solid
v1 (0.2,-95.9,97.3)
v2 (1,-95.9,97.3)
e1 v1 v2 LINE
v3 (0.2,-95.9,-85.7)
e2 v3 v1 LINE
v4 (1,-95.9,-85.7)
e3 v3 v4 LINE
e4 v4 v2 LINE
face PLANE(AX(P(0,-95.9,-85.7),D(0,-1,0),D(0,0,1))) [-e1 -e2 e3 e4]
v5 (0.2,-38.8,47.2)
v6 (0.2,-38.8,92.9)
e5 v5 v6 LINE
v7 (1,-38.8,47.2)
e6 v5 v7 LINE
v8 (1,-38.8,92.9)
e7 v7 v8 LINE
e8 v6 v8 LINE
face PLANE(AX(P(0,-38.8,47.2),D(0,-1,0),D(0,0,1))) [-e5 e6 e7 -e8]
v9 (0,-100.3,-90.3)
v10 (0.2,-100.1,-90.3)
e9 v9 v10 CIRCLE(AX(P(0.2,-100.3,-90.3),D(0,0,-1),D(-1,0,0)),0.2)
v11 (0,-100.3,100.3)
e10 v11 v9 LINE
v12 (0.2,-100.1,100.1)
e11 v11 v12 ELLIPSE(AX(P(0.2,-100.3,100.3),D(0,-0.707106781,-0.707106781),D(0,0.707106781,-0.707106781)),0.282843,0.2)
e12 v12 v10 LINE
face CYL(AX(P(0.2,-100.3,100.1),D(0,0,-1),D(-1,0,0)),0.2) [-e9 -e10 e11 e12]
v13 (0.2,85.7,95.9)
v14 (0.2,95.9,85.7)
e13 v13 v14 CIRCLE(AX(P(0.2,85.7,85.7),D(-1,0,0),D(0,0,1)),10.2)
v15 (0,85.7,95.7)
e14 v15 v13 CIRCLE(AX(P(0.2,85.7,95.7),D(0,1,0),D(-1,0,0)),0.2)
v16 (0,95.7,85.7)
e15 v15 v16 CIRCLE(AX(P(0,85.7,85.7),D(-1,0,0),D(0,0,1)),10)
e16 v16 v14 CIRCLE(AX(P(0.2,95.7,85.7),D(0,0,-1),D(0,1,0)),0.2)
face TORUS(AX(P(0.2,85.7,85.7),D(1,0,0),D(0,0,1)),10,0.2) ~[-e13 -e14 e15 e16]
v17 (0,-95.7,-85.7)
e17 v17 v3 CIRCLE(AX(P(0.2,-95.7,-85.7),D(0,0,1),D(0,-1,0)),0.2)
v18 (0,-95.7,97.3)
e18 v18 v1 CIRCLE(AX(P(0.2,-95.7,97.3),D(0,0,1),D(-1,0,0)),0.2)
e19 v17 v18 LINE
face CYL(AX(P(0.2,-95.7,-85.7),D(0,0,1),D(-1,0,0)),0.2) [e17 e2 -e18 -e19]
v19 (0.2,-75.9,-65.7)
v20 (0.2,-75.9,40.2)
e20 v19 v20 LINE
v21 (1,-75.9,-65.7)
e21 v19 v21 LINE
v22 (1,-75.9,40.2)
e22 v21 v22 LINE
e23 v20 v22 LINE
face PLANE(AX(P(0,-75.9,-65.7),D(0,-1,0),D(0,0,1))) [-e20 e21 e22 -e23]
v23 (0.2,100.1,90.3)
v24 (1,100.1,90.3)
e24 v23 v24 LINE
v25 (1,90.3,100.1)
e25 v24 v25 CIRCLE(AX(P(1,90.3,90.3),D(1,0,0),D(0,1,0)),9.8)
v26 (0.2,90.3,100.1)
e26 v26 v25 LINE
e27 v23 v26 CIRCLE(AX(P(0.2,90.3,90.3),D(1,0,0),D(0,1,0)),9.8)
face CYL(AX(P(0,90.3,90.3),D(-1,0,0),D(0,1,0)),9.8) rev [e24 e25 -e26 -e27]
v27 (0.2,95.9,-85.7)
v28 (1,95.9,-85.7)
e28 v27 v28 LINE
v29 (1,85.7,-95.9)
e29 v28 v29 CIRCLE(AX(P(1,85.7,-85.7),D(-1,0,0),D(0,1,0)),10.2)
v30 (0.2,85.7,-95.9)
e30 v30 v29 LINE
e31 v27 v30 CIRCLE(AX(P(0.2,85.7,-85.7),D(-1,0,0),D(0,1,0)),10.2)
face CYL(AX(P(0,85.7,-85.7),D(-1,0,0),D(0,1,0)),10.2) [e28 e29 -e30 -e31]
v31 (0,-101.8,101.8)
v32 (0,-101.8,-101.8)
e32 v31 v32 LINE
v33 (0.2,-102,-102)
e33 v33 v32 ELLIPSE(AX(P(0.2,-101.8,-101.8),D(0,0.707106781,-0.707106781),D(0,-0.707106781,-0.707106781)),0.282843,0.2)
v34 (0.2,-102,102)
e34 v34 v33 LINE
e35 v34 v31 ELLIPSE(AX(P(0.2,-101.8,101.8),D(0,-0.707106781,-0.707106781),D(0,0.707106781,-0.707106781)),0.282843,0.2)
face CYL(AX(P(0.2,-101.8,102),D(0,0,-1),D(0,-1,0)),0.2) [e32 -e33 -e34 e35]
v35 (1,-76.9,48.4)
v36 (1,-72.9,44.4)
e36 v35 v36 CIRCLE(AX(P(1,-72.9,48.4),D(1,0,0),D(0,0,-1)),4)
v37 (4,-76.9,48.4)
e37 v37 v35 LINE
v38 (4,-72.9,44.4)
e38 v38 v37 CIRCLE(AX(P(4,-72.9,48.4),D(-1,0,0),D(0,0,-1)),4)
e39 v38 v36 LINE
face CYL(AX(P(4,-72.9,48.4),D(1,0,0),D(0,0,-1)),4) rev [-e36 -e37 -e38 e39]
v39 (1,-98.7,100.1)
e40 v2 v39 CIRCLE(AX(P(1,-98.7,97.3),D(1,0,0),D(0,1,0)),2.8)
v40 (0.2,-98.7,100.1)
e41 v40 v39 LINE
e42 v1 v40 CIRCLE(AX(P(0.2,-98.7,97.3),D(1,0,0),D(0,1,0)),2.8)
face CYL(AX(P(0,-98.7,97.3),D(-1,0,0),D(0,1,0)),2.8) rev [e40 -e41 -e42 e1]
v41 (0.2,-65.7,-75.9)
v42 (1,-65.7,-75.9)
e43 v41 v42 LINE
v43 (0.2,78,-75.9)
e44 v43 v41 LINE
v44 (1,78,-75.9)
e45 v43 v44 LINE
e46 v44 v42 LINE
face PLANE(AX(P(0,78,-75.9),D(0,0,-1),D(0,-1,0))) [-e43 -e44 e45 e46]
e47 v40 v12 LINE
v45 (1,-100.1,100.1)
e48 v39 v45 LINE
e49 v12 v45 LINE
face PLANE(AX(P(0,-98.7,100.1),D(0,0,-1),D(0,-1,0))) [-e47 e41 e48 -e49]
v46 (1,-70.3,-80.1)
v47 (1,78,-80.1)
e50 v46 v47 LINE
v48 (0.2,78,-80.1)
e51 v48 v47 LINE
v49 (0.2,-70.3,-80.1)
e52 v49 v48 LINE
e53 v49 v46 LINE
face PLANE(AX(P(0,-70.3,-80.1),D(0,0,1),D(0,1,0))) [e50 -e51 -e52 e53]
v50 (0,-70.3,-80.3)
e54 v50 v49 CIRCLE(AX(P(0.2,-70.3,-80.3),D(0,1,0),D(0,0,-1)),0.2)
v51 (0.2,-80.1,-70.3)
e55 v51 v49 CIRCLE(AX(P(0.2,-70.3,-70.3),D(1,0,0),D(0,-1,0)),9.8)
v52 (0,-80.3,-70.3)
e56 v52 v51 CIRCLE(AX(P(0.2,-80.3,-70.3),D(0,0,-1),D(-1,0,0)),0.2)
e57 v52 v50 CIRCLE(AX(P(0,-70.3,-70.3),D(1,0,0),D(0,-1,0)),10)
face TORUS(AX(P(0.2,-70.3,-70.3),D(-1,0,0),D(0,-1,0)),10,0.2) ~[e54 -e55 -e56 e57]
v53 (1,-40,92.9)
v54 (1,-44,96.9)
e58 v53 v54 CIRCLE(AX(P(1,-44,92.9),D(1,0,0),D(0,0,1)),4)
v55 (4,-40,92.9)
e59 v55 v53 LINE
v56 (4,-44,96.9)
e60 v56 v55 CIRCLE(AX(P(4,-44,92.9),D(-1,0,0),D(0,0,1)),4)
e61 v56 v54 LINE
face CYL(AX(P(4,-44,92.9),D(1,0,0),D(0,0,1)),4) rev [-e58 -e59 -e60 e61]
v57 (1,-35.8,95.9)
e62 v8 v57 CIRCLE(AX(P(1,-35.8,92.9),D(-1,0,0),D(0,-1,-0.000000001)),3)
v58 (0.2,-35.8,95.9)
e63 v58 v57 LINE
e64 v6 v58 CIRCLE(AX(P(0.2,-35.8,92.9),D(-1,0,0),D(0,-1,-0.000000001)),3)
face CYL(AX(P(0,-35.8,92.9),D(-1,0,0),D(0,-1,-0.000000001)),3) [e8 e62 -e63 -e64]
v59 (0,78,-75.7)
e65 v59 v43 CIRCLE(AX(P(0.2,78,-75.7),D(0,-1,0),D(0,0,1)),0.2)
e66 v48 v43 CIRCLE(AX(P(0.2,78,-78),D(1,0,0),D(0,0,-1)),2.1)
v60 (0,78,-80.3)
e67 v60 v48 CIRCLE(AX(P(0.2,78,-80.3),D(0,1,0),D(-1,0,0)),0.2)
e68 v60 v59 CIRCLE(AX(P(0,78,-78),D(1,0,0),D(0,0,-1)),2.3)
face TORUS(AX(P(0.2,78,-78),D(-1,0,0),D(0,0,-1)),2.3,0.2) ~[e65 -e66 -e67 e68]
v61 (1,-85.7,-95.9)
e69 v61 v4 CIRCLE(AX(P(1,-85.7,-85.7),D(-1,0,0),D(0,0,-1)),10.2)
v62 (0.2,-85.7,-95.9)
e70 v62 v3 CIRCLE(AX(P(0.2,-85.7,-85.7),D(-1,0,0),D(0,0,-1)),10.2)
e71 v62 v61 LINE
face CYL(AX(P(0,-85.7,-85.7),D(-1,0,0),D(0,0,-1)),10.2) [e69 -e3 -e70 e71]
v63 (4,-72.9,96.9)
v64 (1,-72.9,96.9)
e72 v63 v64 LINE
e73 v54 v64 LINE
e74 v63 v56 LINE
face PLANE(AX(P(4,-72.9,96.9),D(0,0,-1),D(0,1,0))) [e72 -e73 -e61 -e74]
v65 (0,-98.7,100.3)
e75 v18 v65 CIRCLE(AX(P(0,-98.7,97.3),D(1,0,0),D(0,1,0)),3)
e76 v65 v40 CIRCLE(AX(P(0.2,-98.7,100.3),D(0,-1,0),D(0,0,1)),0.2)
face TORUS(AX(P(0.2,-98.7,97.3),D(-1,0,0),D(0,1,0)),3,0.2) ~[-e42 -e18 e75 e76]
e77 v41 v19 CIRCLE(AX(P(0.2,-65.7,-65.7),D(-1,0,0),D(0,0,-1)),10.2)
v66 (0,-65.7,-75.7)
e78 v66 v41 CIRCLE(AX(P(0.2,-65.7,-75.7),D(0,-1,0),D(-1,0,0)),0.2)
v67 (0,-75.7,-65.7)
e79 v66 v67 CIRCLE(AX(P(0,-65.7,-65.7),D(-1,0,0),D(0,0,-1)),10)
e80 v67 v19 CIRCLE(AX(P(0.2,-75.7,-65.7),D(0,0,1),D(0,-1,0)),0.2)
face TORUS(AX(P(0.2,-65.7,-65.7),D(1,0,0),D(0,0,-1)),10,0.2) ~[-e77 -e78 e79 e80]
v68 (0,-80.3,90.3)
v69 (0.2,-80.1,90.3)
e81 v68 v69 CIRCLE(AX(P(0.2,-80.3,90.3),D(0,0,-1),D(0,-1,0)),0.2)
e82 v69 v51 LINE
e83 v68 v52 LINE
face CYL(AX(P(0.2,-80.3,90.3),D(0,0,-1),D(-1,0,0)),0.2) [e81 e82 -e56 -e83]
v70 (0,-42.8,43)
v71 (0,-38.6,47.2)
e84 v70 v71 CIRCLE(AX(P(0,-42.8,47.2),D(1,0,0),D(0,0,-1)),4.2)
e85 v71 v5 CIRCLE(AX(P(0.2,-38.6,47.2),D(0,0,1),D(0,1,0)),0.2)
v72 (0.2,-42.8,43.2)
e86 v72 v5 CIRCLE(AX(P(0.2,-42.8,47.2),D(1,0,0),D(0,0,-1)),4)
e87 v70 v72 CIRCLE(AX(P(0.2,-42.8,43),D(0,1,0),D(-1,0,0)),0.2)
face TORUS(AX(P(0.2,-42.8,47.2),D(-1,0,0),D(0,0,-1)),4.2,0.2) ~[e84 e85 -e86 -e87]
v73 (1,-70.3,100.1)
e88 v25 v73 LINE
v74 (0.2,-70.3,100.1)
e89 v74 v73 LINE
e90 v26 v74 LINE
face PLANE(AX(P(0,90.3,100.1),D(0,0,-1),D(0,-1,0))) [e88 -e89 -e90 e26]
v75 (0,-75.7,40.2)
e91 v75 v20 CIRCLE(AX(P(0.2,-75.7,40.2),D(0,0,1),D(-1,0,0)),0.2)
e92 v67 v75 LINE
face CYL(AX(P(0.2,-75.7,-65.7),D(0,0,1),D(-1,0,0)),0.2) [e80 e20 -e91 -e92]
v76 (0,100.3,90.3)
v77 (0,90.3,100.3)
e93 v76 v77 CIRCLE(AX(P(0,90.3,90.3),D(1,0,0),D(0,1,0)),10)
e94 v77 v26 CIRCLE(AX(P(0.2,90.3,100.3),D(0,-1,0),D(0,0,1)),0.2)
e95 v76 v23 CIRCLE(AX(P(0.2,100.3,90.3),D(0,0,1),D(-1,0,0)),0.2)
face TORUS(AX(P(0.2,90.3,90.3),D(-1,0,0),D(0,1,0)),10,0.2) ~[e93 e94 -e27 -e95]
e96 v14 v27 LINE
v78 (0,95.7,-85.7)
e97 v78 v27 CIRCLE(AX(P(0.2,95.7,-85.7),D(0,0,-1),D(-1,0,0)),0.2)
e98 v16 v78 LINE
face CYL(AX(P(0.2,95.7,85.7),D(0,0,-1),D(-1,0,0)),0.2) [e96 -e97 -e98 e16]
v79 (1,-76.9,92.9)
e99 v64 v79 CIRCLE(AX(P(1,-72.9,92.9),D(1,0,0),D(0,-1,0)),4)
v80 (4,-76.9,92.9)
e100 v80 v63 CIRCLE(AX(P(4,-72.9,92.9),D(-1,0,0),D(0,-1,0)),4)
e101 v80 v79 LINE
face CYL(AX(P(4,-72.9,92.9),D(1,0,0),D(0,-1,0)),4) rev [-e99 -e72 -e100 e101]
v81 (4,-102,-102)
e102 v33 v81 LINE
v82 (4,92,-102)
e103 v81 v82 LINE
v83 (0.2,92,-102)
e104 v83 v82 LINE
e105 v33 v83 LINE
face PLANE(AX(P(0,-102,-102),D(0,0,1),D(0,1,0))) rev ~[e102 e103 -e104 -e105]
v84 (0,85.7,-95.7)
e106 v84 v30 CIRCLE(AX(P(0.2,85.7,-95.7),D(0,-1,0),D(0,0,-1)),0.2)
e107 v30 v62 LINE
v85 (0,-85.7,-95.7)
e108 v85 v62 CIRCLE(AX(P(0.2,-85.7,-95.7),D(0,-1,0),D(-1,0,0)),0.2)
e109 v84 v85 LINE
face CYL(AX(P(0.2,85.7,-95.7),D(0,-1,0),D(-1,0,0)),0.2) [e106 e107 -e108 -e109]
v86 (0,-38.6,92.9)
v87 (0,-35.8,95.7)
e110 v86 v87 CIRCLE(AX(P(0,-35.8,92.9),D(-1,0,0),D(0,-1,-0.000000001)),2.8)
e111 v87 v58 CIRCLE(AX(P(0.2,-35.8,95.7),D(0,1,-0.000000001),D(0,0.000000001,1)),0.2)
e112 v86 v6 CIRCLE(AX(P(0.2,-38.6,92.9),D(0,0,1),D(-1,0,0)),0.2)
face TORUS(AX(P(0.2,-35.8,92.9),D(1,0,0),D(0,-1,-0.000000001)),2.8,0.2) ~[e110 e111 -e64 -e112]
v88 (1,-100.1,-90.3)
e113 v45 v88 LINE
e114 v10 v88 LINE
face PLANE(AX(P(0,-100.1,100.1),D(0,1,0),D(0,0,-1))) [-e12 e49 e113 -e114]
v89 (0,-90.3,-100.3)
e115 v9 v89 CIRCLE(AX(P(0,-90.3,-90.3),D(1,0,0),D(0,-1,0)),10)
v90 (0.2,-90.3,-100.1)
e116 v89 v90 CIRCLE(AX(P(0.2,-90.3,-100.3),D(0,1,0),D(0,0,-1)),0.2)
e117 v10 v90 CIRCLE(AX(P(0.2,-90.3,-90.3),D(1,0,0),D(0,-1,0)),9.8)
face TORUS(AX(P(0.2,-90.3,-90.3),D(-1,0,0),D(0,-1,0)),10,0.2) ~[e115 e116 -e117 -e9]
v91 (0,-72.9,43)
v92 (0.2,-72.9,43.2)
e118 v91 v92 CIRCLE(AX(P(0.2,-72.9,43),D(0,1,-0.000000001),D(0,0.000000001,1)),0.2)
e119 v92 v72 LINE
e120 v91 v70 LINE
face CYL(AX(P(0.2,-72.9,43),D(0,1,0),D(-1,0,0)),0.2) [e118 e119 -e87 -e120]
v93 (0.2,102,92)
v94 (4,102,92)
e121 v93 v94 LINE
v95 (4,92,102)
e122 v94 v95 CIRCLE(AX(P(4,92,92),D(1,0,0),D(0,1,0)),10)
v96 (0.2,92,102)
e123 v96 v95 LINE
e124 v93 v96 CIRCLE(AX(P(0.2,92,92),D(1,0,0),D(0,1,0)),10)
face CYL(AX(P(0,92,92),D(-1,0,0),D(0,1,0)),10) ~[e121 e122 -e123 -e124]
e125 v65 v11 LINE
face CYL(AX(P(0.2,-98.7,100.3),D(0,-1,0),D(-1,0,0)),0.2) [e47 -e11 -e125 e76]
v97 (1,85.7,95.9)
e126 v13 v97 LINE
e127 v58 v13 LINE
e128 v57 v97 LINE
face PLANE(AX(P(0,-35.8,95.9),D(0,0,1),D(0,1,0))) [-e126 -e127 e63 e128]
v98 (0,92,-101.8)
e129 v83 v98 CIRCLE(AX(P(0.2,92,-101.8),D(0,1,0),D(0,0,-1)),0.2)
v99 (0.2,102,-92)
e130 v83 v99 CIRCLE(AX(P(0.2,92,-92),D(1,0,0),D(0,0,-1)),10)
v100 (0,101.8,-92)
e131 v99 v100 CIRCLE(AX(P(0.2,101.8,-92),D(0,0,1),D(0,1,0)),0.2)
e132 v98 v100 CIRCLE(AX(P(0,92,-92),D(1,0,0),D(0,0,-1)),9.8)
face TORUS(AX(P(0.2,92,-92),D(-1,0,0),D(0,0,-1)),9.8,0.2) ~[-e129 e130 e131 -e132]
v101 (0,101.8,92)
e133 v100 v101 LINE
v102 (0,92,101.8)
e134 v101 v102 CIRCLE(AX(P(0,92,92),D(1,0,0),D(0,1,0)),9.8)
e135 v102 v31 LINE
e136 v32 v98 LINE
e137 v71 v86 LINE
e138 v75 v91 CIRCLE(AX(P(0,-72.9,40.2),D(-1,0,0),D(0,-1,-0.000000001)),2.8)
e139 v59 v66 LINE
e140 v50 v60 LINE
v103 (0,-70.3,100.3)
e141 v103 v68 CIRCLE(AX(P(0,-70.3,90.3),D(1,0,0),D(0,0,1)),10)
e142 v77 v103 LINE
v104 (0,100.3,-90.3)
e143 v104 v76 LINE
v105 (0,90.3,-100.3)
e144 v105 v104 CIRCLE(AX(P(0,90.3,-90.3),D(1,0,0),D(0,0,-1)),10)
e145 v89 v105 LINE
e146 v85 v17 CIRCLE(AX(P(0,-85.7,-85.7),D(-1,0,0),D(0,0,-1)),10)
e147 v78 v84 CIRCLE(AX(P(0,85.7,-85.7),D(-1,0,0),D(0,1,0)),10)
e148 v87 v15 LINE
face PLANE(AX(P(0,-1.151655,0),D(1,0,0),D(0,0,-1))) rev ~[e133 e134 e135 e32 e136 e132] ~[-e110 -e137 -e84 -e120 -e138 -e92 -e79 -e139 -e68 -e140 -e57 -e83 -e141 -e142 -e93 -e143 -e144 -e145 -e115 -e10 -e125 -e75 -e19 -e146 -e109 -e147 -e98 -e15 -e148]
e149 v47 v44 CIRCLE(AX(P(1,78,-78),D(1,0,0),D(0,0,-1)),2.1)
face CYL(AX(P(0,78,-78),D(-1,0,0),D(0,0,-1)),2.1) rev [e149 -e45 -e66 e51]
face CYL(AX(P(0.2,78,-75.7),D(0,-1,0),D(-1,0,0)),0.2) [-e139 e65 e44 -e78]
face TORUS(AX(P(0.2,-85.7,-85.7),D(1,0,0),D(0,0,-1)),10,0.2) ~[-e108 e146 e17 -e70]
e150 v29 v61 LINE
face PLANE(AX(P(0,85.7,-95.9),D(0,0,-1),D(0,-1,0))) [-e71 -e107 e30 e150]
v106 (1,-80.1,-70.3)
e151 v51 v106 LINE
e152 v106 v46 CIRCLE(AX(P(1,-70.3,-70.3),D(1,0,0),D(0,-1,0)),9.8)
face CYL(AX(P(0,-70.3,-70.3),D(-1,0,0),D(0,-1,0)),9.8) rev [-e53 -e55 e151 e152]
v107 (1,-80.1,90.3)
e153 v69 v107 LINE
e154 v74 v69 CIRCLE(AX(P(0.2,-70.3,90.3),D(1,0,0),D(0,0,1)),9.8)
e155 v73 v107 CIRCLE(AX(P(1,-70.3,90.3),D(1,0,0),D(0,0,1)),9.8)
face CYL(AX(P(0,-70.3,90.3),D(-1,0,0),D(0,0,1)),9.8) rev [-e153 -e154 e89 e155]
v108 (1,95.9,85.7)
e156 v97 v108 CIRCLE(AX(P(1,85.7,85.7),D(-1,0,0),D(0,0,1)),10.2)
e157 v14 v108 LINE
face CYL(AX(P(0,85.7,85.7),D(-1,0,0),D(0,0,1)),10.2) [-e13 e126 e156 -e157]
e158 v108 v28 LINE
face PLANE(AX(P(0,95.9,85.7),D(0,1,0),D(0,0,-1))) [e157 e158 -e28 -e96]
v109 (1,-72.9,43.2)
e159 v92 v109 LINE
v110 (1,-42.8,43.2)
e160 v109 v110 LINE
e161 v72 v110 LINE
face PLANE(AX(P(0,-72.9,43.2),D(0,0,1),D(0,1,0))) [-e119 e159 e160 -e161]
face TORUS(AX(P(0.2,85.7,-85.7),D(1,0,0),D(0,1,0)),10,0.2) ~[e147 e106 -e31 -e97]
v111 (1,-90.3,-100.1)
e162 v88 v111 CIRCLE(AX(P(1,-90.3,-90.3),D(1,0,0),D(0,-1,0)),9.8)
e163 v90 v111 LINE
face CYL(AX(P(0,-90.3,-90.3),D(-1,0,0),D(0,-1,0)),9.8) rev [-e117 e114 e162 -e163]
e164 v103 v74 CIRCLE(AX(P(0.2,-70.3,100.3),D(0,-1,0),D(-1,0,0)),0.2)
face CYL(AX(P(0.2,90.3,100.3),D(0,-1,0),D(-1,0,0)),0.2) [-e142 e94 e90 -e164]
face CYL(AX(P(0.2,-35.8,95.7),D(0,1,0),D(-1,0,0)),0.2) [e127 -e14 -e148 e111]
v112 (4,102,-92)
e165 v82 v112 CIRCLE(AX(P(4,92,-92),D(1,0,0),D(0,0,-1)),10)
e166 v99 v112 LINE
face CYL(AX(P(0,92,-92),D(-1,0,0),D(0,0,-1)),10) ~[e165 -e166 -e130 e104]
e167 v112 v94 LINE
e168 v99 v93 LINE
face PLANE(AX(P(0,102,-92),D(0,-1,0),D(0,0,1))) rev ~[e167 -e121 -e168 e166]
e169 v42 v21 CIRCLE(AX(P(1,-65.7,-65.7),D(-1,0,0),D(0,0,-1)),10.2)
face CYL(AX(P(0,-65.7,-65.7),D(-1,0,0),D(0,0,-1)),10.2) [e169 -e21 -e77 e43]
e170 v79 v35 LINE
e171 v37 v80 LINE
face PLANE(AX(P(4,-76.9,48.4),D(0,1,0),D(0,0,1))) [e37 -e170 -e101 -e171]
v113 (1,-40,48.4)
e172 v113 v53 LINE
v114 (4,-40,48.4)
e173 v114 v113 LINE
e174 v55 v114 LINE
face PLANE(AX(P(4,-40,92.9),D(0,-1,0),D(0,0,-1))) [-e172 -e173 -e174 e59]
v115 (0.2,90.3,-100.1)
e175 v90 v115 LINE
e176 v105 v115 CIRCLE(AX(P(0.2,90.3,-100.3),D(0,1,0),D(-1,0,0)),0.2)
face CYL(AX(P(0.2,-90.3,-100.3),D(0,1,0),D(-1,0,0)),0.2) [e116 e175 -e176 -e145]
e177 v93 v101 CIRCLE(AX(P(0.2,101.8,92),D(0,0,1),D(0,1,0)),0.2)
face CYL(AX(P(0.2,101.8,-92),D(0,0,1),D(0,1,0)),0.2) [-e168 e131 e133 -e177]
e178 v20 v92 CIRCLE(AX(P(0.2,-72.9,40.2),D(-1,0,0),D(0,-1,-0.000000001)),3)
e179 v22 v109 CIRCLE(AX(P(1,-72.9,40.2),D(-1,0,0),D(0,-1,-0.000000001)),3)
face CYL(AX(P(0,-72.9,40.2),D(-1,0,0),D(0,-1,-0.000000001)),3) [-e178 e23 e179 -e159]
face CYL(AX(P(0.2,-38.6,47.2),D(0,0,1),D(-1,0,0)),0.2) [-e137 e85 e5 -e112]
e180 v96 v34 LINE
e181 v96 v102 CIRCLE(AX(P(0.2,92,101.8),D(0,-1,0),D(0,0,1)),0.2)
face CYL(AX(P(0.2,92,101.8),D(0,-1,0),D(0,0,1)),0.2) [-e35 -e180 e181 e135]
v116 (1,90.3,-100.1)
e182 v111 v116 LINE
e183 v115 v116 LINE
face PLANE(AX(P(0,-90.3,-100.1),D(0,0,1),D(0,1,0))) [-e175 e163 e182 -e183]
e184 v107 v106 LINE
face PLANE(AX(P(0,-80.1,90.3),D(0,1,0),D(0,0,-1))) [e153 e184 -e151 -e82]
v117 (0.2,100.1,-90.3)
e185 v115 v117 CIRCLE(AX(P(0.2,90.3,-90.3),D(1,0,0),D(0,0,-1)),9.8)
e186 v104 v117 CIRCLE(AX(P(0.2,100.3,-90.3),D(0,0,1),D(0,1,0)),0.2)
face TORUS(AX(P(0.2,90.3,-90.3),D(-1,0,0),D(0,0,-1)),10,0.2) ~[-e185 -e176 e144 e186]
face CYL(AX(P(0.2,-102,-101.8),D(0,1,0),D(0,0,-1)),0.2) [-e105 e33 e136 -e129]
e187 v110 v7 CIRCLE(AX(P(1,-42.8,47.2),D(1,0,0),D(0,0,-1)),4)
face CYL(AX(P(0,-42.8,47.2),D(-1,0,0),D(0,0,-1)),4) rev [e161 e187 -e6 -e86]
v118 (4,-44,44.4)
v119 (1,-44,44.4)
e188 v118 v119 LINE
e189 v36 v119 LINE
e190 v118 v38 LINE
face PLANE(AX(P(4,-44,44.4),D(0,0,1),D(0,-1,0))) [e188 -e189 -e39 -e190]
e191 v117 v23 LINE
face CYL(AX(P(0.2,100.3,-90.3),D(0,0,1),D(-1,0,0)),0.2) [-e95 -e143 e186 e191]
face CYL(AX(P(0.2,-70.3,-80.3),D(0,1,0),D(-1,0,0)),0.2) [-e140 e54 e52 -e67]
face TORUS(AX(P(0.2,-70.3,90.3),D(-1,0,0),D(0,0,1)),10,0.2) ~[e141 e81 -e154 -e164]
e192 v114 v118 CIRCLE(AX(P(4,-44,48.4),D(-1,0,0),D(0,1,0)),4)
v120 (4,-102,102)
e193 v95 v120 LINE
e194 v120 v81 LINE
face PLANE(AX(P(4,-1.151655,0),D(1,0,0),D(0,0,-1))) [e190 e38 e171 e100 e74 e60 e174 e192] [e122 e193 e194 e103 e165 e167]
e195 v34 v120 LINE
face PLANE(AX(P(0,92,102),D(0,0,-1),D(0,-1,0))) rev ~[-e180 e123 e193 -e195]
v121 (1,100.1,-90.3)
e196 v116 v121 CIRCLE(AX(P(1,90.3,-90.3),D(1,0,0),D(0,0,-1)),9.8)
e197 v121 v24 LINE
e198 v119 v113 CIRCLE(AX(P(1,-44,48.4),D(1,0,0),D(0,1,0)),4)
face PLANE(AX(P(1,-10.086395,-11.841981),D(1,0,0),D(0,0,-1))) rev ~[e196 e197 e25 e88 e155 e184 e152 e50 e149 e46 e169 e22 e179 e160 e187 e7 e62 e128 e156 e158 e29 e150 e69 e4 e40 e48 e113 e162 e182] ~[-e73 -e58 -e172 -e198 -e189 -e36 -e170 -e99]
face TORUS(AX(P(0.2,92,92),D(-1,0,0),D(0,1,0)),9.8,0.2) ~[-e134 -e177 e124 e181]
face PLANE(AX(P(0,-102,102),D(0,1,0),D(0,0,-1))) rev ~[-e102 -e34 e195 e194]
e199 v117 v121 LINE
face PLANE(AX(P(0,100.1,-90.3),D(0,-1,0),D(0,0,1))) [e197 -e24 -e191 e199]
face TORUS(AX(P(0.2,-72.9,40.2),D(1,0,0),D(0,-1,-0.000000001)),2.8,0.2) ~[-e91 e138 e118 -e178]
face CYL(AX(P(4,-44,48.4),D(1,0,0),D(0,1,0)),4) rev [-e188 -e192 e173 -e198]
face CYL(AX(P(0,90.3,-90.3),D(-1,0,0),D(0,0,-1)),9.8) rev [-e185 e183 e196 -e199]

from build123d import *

# Parameters (mm, degrees)
BOSS_EXTRUDE1_DEPTH = 4
CUT_EXTRUDE3_START  = -4
CUT_EXTRUDE3_DEPTH  = 1
FILLET1_R           = 0.2
CUT_EXTRUDE4_REACH  = 146.305


with BuildPart() as part:
    # Sketch1 → Boss-Extrude1 (new body)
    with BuildSketch(Plane(origin=(0, 0, 0), x_dir=(0, 0, -1), z_dir=(1, 0, 0))):
        with BuildLine():
            Line((-102, -102), (102, -102))
            Line((102, -102), (102, 92))
            ThreePointArc((102, 92), (99.071067812, 99.071067812), (92, 102))
            Line((92, 102), (-92, 102))
            ThreePointArc((-92, 102), (-99.071067812, 99.071067812), (-102, 92))
            Line((-102, 92), (-102, -102))
        make_face()
    extrude(amount=BOSS_EXTRUDE1_DEPTH)

    # Sketch2 → Cut-Extrude3 (cut)
    with BuildSketch(Plane(origin=(4, 0, 0), x_dir=(0, 0, -1), z_dir=(1, 0, 0)).offset(CUT_EXTRUDE3_START)):
        with BuildLine():
            Line((-100.1, 90.3), (-100.1, -70.3))
            ThreePointArc((-100.1, -70.3), (-97.229646456, -77.229646456), (-90.3, -80.1))
            Line((-90.3, -80.1), (70.3, -80.1))
            ThreePointArc((70.3, -80.1), (77.229646456, -77.229646456), (80.1, -70.3))
            Line((80.1, -70.3), (80.1, 78))
            ThreePointArc((80.1, 78), (78, 80.1), (75.9, 78))
            Line((75.9, 78), (75.9, -65.7))
            ThreePointArc((75.9, -65.7), (72.912489168, -72.912489168), (65.7, -75.9))
            Line((65.7, -75.9), (-40.2, -75.9))
            ThreePointArc((-40.2, -75.9), (-42.321320344, -75.021320344), (-43.2, -72.9))
            Line((-43.2, -72.9), (-43.2, -42.8))
            ThreePointArc((-43.2, -42.8), (-44.371572875, -39.971572875), (-47.2, -38.8))
            Line((-47.2, -38.8), (-92.9, -38.8))
            ThreePointArc((-92.9, -38.8), (-95.021320344, -37.921320344), (-95.9, -35.8))
            Line((-95.9, -35.8), (-95.9, 85.7))
            ThreePointArc((-95.9, 85.7), (-92.912489168, 92.912489168), (-85.7, 95.9))
            Line((-85.7, 95.9), (85.7, 95.9))
            ThreePointArc((85.7, 95.9), (92.912489168, 92.912489168), (95.9, 85.7))
            Line((95.9, 85.7), (95.9, -85.7))
            ThreePointArc((95.9, -85.7), (92.912489168, -92.912489168), (85.7, -95.9))
            Line((85.7, -95.9), (-97.3, -95.9))
            ThreePointArc((-97.3, -95.9), (-99.279898987, -96.720101013), (-100.1, -98.7))
            Line((-100.1, -98.7), (-100.1, -100.1))
            Line((-100.1, -100.1), (90.3, -100.1))
            ThreePointArc((90.3, -100.1), (97.229646456, -97.229646456), (100.1, -90.3))
            Line((100.1, -90.3), (100.1, 90.3))
            ThreePointArc((100.1, 90.3), (97.229646456, 97.229646456), (90.3, 100.1))
            Line((90.3, 100.1), (-90.3, 100.1))
            ThreePointArc((-90.3, 100.1), (-97.229646456, 97.229646456), (-100.1, 90.3))
        make_face()
        with BuildLine():
            Line((-90.9, -75.9), (-48.4, -75.9))
            ThreePointArc((-48.4, -75.9), (-46.278679656, -75.021320344), (-45.4, -72.9))
            Line((-45.4, -72.9), (-45.4, -65.9))
            Line((-45.4, -65.9), (-46.4, -65.9))
            Line((-46.4, -65.9), (-46.4, -64.4))
            Line((-46.4, -64.4), (-45.4, -64.4))
            Line((-45.4, -64.4), (-45.4, -62.5))
            Line((-45.4, -62.5), (-46.4, -62.5))
            Line((-46.4, -62.5), (-46.4, -61))
            Line((-46.4, -61), (-45.4, -61))
            Line((-45.4, -61), (-45.4, -45))
            ThreePointArc((-45.4, -45), (-46.571572875, -42.171572875), (-49.4, -41))
            Line((-49.4, -41), (-92.9, -41))
            ThreePointArc((-92.9, -41), (-95.021320344, -41.878679656), (-95.9, -44))
            Line((-95.9, -44), (-95.9, -61))
            Line((-95.9, -61), (-94.9, -61))
            Line((-94.9, -61), (-94.9, -62.5))
            Line((-94.9, -62.5), (-95.9, -62.5))
            Line((-95.9, -62.5), (-95.9, -64.4))
            Line((-95.9, -64.4), (-94.9, -64.4))
            Line((-94.9, -64.4), (-94.9, -65.9))
            Line((-94.9, -65.9), (-95.9, -65.9))
            Line((-95.9, -65.9), (-95.9, -70.9))
            ThreePointArc((-95.9, -70.9), (-94.435533906, -74.435533906), (-90.9, -75.9))
        make_face(mode=Mode.SUBTRACT)
    extrude(amount=CUT_EXTRUDE3_DEPTH, mode=Mode.SUBTRACT)

    # Fillet1
    fillet1_edges = [part.edges().sort_by_distance(p)[0] for p in [
        (0, -72.912489168, -72.912489168),
        (0, -75.021320344, 42.321320344),
        (0, -37.921320344, 95.021320344),
        (0, 92.912489168, 92.912489168),
        (0, 92.912489168, -92.912489168),
        (0, -92.912489168, -92.912489168),
        (0, -96.720101013, 99.279898987),
        (0, -95.9, 5.8),
        (0, 0, -95.9),
        (0, 95.9, 0),
        (0, 24.95, 95.9),
        (0, -38.8, 70.05),
        (0, -39.971572875, 44.371572875),
        (0, -57.85, 43.2),
        (0, -75.9, -12.75),
        (0, 6.15, -75.9),
        (0, 80.1, -78),
        (0, 3.85, -80.1),
        (0, -77.229646456, -77.229646456),
        (0, -80.1, 10),
        (0, -77.229646456, 97.229646456),
        (0, 10, 100.1),
        (0, 97.229646456, 97.229646456),
        (0, 100.1, 0),
        (0, 97.229646456, -97.229646456),
        (0, -102, 0),
        (0, 0, -100.1),
        (0, -97.229646456, -97.229646456),
        (0, -100.1, 4.9),
        (0, -99.4, 100.1),
        (0, -65.15, 94.9),
        (0, -65.9, 95.4),
        (0, -68.4, 95.9),
        (0, -74.435533906, 94.435533906),
        (0, -75.9, 69.65),
        (0, -75.021320344, 46.278679656),
        (0, -69.4, 45.4),
        (0, -5, 102),
        (0, -65.9, 45.9),
        (0, -65.15, 46.4),
        (0, -64.4, 45.9),
        (0, -63.45, 45.4),
        (0, -62.5, 45.9),
        (0, -61.75, 46.4),
        (0, -61, 45.9),
        (0, -53, 45.4),
        (0, -42.171572875, 46.571572875),
        (0, -41, 71.15),
        (0, 99.071067812, 99.071067812),
        (0, -41.878679656, 95.021320344),
        (0, -52.5, 95.9),
        (0, -61, 95.4),
        (0, -61.75, 94.9),
        (0, -62.5, 95.4),
        (0, -63.45, 95.9),
        (0, -64.4, 95.4),
        (0, 102, 0),
        (0, 99.071067812, -99.071067812),
        (0, -5, -102),
    ]]
    fillet(fillet1_edges, radius=FILLET1_R)

    # Sketch4 → Cut-Extrude4 (cut, up to next)
    with BuildSketch(Plane(origin=(4, 0, 0), x_dir=(0, 0, -1), z_dir=(1, 0, 0)), mode=Mode.PRIVATE) as cut_extrude4_sk1:
        with BuildLine():
            Line((-92.9, -40), (-48.4, -40))
            ThreePointArc((-48.4, -40), (-45.571572875, -41.171572875), (-44.4, -44))
            Line((-44.4, -44), (-44.4, -72.9))
            ThreePointArc((-44.4, -72.9), (-45.571572875, -75.728427125), (-48.4, -76.9))
            Line((-48.4, -76.9), (-92.9, -76.9))
            ThreePointArc((-92.9, -76.9), (-95.728427125, -75.728427125), (-96.9, -72.9))
            Line((-96.9, -72.9), (-96.9, -44))
            ThreePointArc((-96.9, -44), (-95.728427125, -41.171572875), (-92.9, -40))
        make_face()
    cut_extrude4_tool1 = extrude(cut_extrude4_sk1.sketch, amount=-CUT_EXTRUDE4_REACH, mode=Mode.PRIVATE) & part.part
    add(cut_extrude4_tool1.solids().sort_by_distance((4, -58.45, 70.65))[0], mode=Mode.SUBTRACT)


solid = part.part
